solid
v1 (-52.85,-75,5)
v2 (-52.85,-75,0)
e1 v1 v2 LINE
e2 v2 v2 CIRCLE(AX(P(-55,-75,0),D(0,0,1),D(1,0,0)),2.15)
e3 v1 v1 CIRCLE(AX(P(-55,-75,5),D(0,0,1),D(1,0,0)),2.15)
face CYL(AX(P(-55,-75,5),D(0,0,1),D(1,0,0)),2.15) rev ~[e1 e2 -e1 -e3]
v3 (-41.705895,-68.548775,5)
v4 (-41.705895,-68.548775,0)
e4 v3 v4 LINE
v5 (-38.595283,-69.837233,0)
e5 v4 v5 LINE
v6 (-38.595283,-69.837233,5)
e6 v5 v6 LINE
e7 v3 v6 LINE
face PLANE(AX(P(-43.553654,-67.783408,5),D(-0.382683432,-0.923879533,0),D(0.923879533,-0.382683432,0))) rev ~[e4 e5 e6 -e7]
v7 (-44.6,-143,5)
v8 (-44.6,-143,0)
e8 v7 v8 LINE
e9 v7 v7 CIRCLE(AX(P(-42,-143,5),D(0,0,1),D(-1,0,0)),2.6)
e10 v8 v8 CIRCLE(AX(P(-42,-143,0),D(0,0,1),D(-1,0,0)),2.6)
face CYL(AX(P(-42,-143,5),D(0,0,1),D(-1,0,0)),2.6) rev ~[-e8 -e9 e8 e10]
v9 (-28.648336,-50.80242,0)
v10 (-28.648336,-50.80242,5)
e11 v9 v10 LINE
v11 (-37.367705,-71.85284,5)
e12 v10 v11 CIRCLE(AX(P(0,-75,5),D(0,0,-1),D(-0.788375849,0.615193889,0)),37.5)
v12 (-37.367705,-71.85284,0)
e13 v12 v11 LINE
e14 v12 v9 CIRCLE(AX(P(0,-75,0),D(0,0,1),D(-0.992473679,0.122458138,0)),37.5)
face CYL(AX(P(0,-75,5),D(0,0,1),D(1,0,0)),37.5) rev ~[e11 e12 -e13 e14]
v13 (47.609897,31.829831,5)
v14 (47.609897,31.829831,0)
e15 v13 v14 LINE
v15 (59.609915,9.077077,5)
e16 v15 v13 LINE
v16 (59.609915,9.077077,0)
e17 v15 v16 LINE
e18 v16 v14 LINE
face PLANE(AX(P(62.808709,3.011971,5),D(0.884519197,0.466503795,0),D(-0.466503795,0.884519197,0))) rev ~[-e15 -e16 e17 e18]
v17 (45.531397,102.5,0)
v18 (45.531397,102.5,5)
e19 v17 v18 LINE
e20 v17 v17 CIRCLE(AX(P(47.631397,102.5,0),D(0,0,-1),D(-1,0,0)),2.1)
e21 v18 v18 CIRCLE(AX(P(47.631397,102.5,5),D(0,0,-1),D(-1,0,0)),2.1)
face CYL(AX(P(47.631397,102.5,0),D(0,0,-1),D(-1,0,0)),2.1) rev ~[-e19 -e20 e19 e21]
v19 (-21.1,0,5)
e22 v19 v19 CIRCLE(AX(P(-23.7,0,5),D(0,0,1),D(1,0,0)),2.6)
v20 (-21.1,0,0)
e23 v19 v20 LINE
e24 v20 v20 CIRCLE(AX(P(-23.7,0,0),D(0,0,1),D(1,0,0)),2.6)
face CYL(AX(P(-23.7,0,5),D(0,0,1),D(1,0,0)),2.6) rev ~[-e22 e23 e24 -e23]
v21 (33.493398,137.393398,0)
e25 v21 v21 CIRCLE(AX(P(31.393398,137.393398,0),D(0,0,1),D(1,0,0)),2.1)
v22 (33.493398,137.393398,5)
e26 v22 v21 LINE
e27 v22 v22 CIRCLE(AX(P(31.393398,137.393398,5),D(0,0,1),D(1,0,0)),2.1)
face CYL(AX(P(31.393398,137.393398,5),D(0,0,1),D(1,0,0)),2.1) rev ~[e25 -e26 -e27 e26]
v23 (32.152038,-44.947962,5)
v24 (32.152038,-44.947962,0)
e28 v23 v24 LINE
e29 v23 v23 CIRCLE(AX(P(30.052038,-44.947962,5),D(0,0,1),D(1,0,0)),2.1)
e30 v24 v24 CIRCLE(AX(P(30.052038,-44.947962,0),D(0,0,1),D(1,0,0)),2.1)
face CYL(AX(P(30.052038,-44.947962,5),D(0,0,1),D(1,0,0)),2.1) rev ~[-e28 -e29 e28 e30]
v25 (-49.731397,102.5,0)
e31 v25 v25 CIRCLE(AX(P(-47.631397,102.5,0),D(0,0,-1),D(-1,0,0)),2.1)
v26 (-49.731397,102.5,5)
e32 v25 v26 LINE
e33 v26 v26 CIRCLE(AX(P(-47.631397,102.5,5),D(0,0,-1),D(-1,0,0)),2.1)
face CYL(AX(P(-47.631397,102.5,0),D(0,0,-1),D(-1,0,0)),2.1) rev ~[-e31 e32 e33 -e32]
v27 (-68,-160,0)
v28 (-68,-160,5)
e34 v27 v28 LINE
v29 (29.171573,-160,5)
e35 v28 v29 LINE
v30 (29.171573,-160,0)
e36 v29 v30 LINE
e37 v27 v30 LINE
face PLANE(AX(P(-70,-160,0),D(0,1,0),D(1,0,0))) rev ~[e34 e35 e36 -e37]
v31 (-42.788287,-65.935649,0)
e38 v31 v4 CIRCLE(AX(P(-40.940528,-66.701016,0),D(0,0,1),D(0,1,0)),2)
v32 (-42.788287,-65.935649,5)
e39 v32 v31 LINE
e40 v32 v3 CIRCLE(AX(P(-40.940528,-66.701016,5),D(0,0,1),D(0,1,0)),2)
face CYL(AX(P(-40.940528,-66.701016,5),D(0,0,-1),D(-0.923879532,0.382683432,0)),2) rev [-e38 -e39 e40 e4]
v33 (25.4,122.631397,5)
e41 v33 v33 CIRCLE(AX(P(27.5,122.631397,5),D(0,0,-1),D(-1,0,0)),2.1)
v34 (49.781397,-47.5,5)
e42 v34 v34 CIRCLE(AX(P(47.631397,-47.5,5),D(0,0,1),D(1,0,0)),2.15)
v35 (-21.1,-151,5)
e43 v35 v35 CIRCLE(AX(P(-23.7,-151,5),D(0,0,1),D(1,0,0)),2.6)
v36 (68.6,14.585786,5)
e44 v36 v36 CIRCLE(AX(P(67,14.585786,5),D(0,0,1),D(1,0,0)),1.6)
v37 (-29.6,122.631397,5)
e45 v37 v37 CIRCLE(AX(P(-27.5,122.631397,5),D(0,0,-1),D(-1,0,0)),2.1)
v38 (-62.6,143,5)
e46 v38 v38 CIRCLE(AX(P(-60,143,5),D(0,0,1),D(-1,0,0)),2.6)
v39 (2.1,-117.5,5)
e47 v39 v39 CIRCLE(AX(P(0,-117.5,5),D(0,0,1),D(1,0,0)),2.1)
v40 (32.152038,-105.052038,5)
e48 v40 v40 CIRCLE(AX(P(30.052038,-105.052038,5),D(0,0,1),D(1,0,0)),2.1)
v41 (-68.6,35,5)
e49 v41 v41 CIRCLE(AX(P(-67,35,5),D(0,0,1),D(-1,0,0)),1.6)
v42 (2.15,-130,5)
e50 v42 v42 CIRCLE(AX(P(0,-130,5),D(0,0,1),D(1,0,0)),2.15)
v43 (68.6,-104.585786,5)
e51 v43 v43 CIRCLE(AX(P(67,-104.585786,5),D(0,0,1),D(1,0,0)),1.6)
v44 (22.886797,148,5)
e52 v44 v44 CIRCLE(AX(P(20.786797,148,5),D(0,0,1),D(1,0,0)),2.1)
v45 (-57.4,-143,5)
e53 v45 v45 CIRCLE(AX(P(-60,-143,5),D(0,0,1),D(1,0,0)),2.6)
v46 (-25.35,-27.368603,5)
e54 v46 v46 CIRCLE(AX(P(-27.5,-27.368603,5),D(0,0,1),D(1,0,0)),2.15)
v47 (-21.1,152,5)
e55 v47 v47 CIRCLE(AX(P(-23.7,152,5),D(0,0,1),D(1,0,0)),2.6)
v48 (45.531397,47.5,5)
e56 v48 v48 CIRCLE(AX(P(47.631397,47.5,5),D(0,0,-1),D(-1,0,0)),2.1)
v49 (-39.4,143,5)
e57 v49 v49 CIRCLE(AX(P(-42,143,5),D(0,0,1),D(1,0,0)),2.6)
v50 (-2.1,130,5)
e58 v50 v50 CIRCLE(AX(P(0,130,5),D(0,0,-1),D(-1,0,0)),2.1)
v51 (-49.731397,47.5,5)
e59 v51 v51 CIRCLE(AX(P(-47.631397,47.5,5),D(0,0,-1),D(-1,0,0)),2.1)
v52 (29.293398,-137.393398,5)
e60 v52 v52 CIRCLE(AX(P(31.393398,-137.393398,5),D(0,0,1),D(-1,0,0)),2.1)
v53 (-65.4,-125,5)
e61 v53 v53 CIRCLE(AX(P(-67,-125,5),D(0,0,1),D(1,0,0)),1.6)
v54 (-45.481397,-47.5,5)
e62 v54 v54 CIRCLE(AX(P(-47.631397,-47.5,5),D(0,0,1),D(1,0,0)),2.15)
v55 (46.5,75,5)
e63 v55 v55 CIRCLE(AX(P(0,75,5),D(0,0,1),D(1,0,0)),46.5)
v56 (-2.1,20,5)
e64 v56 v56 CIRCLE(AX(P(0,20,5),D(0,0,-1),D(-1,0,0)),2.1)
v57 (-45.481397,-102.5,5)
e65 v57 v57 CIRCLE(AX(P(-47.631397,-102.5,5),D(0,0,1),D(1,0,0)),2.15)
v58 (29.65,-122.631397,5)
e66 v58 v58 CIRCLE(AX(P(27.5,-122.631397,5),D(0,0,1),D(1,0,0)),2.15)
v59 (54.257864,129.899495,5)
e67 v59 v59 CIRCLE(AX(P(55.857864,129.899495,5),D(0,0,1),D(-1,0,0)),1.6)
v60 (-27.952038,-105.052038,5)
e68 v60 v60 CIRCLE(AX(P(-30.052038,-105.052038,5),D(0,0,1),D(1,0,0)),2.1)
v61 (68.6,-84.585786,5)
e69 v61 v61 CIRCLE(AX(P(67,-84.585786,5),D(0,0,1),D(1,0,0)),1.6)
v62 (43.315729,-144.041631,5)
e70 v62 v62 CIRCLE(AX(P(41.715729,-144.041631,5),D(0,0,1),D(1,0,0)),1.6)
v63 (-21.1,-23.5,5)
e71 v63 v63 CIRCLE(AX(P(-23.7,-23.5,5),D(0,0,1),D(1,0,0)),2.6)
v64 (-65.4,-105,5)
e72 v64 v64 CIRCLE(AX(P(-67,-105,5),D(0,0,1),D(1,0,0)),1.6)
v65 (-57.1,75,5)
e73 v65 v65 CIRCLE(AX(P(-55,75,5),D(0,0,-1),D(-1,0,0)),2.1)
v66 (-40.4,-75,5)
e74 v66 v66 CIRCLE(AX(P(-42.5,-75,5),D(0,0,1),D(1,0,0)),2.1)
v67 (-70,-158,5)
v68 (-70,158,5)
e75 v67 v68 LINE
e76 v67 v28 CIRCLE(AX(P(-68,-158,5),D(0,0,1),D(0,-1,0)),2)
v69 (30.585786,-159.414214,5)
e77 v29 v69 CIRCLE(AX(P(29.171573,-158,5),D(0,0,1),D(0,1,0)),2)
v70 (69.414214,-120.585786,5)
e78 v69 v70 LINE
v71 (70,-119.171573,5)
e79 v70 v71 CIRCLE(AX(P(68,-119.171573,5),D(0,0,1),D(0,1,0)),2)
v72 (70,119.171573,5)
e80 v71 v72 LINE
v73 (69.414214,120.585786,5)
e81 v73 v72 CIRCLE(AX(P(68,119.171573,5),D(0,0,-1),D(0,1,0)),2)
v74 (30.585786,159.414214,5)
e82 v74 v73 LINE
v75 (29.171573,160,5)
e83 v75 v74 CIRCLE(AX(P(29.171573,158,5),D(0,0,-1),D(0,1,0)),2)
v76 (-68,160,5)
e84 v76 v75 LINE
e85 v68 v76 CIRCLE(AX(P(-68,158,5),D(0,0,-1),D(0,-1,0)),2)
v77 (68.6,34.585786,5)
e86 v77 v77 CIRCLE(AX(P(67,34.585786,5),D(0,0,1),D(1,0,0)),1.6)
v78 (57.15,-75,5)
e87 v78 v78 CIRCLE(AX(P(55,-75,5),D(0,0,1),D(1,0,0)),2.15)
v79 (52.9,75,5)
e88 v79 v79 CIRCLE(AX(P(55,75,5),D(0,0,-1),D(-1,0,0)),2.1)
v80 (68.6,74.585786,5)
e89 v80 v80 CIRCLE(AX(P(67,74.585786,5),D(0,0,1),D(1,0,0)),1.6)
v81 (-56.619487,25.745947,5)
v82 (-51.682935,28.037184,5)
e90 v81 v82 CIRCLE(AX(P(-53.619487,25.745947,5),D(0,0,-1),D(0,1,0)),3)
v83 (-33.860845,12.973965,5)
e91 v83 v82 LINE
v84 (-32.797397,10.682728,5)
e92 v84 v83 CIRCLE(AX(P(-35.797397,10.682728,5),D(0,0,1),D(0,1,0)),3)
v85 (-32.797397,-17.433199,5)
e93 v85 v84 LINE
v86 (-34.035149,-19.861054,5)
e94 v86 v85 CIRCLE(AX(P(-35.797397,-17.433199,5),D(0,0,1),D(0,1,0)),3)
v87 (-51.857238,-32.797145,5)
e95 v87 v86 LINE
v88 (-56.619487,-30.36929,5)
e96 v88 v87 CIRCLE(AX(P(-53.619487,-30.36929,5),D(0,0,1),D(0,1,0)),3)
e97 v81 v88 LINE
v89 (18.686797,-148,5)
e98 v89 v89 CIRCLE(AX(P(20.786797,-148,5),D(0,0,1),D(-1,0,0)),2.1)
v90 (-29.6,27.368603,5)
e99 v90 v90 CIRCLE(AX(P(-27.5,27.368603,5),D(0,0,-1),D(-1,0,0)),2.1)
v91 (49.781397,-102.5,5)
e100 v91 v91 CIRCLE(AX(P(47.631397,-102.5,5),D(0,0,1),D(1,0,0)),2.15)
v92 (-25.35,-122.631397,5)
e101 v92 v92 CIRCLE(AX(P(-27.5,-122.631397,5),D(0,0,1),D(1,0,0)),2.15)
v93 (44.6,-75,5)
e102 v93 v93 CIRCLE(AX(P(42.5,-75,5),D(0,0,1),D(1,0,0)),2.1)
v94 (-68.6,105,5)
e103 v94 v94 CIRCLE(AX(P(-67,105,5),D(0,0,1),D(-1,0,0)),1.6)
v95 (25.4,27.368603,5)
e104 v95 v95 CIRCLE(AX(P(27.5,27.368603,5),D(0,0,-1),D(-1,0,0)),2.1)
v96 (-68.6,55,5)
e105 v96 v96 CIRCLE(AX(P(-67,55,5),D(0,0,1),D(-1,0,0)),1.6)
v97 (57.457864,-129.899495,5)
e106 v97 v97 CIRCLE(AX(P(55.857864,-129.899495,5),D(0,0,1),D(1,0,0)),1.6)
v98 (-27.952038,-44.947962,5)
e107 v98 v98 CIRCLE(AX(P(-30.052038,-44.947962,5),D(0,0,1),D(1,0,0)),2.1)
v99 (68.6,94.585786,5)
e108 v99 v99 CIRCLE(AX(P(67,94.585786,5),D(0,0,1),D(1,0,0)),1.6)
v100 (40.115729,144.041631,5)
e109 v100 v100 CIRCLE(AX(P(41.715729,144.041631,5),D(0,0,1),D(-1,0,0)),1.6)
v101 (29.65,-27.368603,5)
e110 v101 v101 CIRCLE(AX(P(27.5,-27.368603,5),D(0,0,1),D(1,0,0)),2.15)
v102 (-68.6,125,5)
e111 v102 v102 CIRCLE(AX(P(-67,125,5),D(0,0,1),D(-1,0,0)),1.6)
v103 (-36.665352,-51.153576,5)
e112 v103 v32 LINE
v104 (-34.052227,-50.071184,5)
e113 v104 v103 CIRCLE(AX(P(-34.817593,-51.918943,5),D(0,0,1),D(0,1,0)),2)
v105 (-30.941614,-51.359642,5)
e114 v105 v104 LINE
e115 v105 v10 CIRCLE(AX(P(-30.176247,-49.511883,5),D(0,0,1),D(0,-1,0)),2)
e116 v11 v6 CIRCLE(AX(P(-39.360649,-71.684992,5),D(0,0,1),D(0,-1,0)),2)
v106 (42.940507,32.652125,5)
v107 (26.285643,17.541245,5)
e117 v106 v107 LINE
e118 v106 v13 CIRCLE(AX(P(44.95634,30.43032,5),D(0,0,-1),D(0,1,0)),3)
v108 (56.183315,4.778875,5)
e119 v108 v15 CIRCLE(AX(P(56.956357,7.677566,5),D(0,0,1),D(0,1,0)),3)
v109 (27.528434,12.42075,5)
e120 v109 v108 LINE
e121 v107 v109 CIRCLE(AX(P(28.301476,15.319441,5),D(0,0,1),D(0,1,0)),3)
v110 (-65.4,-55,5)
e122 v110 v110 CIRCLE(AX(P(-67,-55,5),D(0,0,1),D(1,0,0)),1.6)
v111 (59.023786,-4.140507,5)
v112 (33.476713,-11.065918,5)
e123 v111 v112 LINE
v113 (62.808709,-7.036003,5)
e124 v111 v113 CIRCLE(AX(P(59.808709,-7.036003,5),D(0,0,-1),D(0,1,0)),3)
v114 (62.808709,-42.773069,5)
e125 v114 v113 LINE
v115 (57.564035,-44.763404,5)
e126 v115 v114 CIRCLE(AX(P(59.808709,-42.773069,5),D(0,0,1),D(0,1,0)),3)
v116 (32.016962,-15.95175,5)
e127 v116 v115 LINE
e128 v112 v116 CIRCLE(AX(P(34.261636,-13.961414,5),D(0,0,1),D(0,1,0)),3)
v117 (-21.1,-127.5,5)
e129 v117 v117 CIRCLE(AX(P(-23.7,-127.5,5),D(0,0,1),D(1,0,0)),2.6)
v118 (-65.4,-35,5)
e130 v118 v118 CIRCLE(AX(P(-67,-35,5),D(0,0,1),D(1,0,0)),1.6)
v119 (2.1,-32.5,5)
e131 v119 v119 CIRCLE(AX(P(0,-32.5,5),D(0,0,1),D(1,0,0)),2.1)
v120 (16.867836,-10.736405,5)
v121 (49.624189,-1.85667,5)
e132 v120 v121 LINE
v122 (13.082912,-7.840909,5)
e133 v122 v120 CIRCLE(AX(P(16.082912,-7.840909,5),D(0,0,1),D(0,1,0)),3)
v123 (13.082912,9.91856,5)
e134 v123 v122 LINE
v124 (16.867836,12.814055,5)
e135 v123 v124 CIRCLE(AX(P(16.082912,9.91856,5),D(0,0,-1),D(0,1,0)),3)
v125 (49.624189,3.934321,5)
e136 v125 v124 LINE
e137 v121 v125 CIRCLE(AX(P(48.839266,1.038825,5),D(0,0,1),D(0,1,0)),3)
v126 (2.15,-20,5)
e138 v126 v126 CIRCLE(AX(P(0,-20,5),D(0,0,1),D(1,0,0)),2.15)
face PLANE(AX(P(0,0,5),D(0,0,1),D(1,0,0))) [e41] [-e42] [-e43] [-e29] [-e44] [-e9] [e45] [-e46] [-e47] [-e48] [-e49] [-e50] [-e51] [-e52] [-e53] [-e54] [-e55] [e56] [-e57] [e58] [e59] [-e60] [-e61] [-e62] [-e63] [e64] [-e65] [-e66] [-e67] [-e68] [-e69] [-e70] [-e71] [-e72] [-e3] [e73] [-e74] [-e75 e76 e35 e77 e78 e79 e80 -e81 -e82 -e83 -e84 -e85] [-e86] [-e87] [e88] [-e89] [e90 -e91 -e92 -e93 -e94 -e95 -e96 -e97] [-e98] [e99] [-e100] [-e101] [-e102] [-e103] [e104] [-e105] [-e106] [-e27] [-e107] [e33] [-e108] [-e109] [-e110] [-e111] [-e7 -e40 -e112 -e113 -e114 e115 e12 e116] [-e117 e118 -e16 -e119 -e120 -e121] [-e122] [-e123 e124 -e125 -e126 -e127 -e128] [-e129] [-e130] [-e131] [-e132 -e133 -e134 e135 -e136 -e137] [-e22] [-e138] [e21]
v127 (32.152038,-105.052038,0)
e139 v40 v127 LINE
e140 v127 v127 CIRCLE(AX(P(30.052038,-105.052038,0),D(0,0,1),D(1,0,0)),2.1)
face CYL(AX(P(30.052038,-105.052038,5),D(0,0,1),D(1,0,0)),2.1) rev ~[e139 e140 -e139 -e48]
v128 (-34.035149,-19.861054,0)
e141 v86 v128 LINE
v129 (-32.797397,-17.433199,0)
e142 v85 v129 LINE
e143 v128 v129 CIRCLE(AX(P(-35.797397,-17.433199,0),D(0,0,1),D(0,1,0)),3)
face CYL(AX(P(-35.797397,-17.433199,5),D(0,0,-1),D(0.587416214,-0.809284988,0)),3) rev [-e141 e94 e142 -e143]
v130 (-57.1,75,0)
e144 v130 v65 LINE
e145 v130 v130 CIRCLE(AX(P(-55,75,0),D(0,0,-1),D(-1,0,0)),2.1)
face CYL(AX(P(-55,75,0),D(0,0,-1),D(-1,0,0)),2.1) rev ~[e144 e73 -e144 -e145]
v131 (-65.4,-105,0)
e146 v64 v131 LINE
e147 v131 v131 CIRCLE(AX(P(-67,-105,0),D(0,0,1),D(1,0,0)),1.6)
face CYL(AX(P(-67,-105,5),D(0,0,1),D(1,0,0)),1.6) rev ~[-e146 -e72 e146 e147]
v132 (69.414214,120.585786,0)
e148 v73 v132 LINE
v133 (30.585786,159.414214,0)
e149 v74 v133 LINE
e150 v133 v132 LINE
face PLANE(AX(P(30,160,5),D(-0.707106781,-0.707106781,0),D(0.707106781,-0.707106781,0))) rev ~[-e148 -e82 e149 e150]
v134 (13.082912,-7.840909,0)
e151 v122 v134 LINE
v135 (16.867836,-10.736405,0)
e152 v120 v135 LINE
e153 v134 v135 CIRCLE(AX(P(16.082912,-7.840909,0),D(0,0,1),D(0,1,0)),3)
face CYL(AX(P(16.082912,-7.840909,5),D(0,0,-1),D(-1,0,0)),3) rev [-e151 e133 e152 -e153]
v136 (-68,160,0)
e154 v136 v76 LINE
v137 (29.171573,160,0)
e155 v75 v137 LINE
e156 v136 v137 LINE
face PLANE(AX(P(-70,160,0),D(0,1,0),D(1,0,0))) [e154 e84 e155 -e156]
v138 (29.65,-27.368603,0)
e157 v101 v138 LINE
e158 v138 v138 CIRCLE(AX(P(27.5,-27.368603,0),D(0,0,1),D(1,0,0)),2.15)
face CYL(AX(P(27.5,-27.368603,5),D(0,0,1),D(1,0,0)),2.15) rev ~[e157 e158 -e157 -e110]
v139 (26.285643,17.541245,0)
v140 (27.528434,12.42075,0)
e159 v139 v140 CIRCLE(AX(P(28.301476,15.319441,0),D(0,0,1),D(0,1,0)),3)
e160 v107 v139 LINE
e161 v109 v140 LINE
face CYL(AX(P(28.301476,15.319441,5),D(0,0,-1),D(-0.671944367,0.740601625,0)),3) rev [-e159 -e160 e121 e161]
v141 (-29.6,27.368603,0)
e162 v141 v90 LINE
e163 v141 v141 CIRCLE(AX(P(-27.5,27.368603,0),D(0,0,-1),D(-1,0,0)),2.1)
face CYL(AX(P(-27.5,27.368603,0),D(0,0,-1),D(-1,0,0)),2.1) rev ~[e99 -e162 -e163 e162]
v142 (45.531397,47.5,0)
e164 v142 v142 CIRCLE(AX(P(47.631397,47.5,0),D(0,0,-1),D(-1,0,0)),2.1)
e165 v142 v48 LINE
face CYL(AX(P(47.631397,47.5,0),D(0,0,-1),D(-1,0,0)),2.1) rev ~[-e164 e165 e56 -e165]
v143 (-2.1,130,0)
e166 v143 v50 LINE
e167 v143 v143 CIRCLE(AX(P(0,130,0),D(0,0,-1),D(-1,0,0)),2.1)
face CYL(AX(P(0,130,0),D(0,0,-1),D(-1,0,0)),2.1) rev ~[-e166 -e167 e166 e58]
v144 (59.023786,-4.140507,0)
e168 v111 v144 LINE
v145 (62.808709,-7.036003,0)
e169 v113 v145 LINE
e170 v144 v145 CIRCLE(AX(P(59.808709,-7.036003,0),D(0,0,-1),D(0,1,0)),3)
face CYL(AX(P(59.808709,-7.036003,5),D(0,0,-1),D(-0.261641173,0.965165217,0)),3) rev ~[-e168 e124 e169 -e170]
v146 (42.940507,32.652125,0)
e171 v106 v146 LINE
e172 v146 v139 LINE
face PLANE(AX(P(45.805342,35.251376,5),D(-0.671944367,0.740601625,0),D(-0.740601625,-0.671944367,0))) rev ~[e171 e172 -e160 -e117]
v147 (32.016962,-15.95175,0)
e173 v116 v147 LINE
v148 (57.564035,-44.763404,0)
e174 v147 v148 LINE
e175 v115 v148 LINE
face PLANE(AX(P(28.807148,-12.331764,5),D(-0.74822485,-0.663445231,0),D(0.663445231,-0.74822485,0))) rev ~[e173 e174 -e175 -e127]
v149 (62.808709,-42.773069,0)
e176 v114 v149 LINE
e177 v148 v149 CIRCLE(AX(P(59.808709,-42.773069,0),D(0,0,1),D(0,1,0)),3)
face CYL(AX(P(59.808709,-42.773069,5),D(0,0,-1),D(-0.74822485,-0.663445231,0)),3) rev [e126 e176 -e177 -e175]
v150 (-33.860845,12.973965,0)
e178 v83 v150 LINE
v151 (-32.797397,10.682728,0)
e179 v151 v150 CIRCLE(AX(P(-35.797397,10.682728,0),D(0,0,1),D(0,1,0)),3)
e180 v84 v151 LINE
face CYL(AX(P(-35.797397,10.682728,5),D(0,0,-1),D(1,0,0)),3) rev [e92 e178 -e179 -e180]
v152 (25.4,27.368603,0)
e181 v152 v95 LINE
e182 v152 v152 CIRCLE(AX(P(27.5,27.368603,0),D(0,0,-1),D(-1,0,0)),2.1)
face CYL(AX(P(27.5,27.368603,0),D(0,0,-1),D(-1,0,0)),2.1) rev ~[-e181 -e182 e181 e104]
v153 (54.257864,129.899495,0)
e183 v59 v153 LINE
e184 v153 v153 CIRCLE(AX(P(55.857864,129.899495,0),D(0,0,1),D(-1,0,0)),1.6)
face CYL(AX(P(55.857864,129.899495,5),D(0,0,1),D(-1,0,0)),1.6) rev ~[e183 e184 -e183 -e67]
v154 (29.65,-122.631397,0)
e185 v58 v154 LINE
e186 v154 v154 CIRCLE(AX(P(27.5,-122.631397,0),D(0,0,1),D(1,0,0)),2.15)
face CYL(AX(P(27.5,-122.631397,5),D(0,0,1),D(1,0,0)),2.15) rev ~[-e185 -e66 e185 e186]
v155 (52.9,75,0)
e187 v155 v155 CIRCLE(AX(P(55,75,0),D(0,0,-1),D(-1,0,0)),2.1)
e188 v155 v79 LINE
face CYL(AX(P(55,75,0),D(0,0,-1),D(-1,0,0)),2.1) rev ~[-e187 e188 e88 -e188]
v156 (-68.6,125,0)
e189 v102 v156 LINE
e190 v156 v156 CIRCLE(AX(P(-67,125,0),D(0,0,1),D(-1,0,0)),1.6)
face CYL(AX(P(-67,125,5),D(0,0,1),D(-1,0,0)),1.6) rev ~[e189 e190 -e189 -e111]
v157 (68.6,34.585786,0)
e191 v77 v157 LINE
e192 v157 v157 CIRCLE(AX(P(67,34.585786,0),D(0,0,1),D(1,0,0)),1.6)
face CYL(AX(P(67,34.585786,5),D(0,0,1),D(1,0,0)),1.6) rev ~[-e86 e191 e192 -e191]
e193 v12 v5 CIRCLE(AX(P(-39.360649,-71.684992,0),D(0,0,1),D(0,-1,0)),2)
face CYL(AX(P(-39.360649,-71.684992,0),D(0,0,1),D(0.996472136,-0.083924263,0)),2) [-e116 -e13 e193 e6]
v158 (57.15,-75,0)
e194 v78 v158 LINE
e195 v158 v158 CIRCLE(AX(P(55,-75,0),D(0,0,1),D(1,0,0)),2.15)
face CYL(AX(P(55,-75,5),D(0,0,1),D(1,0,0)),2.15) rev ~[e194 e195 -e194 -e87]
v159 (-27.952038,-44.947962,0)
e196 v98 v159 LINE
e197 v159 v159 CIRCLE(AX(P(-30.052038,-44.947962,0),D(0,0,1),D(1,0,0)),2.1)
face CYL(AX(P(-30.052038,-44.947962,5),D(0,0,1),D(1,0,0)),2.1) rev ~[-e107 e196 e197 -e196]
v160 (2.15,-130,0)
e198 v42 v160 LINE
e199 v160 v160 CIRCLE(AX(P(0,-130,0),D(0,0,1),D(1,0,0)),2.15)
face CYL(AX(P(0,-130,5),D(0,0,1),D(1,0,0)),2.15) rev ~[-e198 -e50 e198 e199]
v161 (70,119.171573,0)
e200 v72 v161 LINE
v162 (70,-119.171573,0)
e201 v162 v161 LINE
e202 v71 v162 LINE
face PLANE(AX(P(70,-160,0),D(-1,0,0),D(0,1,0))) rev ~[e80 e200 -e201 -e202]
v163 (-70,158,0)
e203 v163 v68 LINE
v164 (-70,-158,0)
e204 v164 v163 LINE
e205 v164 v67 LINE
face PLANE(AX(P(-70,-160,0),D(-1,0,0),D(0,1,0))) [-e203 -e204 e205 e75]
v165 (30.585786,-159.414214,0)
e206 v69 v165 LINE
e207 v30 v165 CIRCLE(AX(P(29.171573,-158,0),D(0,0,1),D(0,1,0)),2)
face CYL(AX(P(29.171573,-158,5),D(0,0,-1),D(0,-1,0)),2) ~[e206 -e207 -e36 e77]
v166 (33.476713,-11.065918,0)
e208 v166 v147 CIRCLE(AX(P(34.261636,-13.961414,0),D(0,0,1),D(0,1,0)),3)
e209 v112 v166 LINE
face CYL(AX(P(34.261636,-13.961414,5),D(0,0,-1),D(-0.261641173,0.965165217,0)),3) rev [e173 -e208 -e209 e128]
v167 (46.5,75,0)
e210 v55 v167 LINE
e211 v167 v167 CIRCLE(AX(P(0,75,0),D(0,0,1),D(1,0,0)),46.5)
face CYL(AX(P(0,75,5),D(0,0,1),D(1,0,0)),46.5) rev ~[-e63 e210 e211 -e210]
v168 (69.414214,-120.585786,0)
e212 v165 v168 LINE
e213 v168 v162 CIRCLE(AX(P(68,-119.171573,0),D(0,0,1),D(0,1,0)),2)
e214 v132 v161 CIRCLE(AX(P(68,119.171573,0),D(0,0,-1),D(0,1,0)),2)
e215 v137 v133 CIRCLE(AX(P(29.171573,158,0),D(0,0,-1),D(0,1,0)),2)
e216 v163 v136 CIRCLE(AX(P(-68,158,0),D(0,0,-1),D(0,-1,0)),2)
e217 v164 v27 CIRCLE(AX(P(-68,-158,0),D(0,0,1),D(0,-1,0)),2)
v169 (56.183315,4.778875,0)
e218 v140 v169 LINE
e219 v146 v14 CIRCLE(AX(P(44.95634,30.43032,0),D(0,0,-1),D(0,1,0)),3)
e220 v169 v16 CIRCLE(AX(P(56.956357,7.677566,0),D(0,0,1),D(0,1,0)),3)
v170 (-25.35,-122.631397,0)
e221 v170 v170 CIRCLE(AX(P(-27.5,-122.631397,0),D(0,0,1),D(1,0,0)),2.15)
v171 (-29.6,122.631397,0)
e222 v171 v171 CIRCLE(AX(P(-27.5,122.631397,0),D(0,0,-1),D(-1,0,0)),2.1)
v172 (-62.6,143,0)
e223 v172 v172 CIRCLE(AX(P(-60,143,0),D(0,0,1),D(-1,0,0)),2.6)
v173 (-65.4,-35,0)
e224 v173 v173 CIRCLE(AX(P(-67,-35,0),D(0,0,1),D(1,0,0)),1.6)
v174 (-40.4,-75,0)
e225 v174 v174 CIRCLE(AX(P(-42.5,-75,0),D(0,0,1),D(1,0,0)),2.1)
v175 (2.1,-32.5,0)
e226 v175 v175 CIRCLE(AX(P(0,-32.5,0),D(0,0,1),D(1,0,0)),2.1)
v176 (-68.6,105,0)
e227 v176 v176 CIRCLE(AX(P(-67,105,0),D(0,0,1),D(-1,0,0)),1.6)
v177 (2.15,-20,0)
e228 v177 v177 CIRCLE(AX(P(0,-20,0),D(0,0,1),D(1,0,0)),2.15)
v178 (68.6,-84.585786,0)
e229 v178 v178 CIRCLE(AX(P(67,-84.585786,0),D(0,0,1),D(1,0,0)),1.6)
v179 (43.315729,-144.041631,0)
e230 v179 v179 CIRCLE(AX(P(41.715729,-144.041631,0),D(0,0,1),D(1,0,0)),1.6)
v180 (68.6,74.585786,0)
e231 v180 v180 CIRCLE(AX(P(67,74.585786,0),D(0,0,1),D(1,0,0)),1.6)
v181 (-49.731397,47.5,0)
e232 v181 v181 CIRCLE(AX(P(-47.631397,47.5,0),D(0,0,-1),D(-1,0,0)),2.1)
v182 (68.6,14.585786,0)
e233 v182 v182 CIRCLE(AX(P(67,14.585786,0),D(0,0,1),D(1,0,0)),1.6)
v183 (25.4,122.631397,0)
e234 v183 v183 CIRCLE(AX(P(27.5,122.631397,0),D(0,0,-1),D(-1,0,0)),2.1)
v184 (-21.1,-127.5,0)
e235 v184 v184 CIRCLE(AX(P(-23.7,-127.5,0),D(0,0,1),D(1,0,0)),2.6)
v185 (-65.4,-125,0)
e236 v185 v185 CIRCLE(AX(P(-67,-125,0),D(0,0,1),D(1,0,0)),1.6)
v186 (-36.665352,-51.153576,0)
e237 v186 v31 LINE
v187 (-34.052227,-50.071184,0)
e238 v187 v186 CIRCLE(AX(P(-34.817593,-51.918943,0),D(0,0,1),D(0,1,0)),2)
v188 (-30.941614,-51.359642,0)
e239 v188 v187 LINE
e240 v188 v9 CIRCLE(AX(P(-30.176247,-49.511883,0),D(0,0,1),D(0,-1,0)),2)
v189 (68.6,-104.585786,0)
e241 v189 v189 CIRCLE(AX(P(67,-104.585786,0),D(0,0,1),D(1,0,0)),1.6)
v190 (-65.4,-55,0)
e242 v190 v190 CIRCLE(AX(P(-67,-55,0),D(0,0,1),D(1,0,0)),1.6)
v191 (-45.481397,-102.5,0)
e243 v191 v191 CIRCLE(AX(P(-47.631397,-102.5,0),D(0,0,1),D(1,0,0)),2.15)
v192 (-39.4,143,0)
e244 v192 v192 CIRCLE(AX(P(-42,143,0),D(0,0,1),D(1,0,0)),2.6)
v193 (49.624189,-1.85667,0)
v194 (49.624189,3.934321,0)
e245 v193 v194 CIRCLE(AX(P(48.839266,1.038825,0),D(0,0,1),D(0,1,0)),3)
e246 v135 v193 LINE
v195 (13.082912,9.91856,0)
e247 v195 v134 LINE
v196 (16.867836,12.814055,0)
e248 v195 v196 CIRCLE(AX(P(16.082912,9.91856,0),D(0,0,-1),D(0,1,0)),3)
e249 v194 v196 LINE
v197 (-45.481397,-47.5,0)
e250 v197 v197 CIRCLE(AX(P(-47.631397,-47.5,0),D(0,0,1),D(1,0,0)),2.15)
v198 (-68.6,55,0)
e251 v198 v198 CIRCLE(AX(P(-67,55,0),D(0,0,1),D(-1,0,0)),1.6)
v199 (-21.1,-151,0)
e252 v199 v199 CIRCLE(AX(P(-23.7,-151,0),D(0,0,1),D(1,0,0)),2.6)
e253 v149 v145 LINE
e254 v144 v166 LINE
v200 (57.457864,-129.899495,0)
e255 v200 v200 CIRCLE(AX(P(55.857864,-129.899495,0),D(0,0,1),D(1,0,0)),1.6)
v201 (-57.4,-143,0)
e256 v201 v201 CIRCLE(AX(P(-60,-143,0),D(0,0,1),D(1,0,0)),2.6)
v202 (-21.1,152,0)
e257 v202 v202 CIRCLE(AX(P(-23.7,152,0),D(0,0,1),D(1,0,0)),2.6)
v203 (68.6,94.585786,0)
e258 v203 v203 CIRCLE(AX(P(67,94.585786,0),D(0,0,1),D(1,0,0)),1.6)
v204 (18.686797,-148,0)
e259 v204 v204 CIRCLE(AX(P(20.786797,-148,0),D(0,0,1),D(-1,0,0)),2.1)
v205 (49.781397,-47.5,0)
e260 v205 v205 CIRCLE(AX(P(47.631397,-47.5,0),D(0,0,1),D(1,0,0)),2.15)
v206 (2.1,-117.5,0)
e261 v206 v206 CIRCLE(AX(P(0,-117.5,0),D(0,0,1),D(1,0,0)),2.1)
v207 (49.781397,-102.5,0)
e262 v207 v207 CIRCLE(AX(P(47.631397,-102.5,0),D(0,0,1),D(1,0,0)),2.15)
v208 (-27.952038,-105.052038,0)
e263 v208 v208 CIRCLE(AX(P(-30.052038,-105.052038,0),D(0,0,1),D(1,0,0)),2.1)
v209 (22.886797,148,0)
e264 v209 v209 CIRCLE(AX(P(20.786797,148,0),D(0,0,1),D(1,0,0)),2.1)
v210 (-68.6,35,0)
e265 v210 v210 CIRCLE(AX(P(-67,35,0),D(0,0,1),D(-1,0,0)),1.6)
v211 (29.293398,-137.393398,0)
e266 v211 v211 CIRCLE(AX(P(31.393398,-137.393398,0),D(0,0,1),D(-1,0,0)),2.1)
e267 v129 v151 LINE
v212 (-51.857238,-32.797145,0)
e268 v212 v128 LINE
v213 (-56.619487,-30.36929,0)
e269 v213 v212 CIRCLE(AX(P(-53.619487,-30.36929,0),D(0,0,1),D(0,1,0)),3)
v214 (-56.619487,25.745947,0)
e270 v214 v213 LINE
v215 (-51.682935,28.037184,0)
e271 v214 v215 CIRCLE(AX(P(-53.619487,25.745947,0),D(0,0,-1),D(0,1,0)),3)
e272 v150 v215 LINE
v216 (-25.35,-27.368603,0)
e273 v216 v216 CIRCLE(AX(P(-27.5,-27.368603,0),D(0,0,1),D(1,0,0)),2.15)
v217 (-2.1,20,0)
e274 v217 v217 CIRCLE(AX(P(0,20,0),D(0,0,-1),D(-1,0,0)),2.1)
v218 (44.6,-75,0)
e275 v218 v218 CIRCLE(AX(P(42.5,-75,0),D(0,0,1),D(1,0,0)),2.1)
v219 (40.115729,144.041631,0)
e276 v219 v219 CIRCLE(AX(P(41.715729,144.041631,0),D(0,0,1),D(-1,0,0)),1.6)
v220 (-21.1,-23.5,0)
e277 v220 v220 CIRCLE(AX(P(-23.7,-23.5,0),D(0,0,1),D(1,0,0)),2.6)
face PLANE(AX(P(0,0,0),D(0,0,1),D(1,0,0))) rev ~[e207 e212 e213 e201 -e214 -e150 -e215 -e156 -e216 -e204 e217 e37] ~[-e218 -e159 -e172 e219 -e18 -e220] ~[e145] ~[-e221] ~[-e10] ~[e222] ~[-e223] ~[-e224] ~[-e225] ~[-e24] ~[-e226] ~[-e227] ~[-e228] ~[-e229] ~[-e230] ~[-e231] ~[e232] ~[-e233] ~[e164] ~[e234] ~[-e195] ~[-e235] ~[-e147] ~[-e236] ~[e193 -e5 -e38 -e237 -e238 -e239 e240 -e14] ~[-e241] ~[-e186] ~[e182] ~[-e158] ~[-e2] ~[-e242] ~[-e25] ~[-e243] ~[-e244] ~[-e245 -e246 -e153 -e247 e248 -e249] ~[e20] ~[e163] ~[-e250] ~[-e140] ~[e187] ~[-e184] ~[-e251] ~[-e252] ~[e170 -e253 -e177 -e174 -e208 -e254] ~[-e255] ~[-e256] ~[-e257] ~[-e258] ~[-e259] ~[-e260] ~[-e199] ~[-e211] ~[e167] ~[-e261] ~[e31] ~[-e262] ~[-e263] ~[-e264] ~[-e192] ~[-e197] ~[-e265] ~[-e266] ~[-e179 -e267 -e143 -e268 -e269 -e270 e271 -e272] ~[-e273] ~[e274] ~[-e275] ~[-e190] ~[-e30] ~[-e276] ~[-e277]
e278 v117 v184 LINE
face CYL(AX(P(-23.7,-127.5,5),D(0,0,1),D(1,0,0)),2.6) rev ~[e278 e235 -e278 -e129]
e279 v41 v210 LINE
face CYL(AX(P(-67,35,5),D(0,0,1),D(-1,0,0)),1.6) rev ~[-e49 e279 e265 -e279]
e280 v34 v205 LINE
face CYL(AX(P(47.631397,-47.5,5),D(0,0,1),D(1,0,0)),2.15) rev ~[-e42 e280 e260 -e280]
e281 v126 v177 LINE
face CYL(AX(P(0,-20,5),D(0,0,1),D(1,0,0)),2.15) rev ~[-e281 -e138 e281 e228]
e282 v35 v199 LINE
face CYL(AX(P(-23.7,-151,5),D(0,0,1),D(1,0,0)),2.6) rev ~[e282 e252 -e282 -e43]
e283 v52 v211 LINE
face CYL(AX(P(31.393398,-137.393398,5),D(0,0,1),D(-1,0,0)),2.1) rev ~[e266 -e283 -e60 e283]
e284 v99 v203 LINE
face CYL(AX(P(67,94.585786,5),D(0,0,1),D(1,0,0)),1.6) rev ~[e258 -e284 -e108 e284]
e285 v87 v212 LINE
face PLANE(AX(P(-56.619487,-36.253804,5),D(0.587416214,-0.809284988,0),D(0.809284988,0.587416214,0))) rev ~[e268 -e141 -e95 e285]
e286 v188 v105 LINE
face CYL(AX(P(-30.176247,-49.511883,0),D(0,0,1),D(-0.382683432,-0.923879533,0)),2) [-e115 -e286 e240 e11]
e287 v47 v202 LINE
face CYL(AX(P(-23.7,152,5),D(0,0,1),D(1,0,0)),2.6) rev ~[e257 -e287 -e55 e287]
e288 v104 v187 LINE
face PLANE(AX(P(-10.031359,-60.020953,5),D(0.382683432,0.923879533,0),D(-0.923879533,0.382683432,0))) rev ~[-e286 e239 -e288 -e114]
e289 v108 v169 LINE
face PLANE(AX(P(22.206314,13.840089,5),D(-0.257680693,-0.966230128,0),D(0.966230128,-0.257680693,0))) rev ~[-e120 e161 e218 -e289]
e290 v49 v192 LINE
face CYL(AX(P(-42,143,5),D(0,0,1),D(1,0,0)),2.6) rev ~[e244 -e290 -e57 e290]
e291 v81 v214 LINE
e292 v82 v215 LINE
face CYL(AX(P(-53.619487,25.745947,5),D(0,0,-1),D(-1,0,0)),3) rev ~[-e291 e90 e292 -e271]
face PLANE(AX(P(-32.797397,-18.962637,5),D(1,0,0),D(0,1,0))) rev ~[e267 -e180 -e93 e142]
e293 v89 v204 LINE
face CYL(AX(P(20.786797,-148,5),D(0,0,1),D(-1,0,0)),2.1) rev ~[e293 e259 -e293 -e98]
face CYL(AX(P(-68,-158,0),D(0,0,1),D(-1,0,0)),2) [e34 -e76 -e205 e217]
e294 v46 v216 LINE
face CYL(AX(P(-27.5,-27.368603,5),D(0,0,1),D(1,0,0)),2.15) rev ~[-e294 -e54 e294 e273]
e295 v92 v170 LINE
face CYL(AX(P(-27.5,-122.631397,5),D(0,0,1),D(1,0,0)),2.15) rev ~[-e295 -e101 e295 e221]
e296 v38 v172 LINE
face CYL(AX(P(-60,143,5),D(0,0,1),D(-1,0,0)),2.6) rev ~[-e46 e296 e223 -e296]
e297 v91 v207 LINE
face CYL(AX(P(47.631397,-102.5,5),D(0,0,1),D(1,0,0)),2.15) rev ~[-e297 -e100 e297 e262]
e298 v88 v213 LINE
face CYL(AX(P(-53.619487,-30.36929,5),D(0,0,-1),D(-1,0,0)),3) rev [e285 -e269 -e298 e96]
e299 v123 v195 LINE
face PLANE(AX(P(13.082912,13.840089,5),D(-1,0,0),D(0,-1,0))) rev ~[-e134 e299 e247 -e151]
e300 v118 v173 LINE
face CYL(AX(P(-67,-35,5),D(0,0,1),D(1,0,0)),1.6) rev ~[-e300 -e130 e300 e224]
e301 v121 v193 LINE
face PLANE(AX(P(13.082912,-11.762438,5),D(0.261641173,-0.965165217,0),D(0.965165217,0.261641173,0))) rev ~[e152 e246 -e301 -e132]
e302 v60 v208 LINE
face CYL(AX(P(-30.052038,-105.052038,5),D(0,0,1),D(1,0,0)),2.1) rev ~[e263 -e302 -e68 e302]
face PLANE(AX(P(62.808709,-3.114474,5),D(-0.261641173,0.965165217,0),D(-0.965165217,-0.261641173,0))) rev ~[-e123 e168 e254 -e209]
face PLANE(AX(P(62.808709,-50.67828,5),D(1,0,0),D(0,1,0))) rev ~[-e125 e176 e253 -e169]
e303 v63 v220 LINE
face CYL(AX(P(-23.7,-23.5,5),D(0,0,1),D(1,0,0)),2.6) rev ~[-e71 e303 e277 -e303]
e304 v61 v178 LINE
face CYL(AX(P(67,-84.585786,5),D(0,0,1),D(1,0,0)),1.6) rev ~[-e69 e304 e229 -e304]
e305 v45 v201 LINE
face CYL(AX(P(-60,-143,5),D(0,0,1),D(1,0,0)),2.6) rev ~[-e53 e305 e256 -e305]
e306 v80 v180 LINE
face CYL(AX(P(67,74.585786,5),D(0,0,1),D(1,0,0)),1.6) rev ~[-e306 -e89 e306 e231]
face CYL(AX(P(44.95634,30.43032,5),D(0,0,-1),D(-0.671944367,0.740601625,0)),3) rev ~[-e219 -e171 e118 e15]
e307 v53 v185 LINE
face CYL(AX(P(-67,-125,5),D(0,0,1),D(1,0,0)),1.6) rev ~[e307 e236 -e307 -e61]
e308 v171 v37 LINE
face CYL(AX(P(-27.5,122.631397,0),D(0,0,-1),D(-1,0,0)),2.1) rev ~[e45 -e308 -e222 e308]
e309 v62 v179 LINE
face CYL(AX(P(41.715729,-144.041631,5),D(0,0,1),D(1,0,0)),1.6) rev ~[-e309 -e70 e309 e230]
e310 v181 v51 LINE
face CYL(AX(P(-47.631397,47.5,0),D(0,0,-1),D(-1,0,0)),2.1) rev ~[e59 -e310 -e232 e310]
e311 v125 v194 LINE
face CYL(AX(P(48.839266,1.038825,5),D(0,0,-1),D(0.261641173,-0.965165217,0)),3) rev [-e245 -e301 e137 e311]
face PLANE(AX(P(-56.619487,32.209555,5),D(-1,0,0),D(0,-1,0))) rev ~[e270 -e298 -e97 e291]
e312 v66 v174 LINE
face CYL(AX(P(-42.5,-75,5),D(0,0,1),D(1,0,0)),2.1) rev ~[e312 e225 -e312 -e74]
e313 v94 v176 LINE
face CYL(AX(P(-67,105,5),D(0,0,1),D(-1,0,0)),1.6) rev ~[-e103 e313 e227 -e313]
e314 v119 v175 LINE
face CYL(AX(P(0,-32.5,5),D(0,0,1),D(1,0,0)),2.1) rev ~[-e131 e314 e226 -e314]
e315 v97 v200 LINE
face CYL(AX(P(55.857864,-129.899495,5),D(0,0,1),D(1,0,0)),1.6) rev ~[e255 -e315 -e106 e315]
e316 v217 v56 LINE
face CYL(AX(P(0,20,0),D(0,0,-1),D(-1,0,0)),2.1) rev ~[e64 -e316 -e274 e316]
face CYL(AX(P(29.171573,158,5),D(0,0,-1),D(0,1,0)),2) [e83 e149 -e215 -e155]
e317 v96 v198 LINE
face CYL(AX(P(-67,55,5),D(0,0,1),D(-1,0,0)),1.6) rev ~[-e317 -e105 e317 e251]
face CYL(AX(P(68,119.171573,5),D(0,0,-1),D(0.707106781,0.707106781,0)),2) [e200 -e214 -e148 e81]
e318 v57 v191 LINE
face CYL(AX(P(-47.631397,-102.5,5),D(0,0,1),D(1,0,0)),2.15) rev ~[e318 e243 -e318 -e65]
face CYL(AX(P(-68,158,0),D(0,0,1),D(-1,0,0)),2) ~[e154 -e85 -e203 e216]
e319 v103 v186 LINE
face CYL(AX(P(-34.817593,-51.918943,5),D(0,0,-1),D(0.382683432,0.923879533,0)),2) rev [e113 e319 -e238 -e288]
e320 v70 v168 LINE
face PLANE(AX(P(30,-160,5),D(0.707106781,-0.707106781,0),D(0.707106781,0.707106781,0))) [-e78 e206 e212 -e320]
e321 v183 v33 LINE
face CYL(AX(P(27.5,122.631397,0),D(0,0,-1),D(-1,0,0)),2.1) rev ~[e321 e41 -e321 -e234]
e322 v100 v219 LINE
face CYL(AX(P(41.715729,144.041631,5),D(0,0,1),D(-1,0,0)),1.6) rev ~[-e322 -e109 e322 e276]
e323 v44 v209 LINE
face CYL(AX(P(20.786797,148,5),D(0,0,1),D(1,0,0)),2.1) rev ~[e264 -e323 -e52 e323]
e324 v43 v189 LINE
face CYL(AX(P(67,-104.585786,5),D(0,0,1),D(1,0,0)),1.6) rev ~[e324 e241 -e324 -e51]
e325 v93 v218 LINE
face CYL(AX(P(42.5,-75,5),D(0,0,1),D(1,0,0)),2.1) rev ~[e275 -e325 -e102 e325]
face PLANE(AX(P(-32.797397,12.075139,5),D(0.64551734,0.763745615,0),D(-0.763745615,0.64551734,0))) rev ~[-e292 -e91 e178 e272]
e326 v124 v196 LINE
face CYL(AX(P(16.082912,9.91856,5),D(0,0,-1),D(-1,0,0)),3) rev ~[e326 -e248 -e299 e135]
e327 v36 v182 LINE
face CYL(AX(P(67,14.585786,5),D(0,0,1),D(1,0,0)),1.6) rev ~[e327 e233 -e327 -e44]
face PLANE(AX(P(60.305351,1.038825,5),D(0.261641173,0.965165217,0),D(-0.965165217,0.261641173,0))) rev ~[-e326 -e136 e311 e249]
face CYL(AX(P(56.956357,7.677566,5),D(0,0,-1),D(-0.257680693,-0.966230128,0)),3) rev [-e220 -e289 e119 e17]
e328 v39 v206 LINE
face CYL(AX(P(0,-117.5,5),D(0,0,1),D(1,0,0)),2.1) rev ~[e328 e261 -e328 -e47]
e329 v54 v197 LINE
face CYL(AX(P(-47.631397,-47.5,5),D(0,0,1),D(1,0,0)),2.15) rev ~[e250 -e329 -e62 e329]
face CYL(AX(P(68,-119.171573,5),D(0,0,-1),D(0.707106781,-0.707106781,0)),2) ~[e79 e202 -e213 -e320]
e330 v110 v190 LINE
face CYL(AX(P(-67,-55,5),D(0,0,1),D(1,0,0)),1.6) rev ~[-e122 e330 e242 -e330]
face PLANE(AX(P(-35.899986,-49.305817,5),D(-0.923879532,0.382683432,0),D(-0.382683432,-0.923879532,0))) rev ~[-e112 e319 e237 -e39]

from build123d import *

# Parameters (mm, degrees)
SKETCH_1_W           = 140
SKETCH_1_H           = 320
EXTRUDE_1_DEPTH      = 5
SKETCH_2_R           = 46.5
SKETCH_2_R_2         = 37.5
SKETCH_2_R_3         = 2.1
CUT_EXTRUDE_1_DEPTH  = 5
CUT_EXTRUDE_2_DEPTH  = 5
SKETCH_4_R           = 2.15
CUT_EXTRUDE_3_DEPTH  = 5
SKETCH_5_R           = 2.1
CUT_EXTRUDE_4_DEPTH  = 15
CUT_EXTRUDE_5_DEPTH  = 10
SKETCH_7_R           = 1.6
CUT_EXTRUDE_6_DEPTH  = 327
FILLET_1_R           = 2
FILLET_2_R           = 2
SKETCH_9_R           = 2.6
CUT_EXTRUDE_8_DEPTH  = 10
SKETCH_10_R          = 2.6
CUT_EXTRUDE_9_DEPTH  = 10
SKETCH_11_R          = 2.6
CUT_EXTRUDE_10_DEPTH = 10
SKETCH_12_R          = 1.6
CUT_EXTRUDE_11_DEPTH = 10
SKETCH_13_R          = 2.1
CUT_EXTRUDE_12_DEPTH = 10
CUT_EXTRUDE_13_DEPTH = 10
FILLET_3_R           = 3
FILLET_5_R           = 3
FILLET_6_R           = 3
SKETCH_15_R          = 1.6
CUT_EXTRUDE_14_DEPTH = 10


with BuildPart() as part:
    # 草图1 → 凸台-拉伸1 (new body)
    with BuildSketch(Plane.XY):
        Rectangle(SKETCH_1_W, SKETCH_1_H)
    extrude(amount=EXTRUDE_1_DEPTH)

    # 草图2 → 切除-拉伸1 (cut)
    with BuildSketch(Plane.XY.offset(5)):
        with Locations((0, 75)):
            Circle(SKETCH_2_R)
        with Locations((0, -75)):
            Circle(SKETCH_2_R_2)
        with Locations((42.5, -75)):
            Circle(SKETCH_2_R_3)
        with Locations((30.0520382, -105.0520382)):
            Circle(SKETCH_2_R_3)
        with Locations((0, -117.5)):
            Circle(SKETCH_2_R_3)
        with Locations((-30.0520382, -105.0520382)):
            Circle(SKETCH_2_R_3)
        with Locations((-42.5, -75)):
            Circle(SKETCH_2_R_3)
        with Locations((-30.0520382, -44.9479618)):
            Circle(SKETCH_2_R_3)
        with Locations((0, -32.5)):
            Circle(SKETCH_2_R_3)
        with Locations((30.0520382, -44.9479618)):
            Circle(SKETCH_2_R_3)
    extrude(amount=-CUT_EXTRUDE_1_DEPTH, mode=Mode.SUBTRACT)

    # 草图3 → 切除-拉伸2 (cut)
    with BuildSketch(Plane.XY.offset(5)):
        Polygon((-43.553654222, -67.783407733), (-17.685027311, -78.49854384), (-10.031358664, -60.020953189), (-35.899985574, -49.305817083), align=None)
    extrude(amount=-CUT_EXTRUDE_2_DEPTH, mode=Mode.SUBTRACT)

    # 草图4 → 切除-拉伸3 (cut)
    with BuildSketch(Plane.XY.offset(5)):
        with Locations((0, -20)):
            Circle(SKETCH_4_R)
        with Locations((27.5, -27.368602792)):
            Circle(SKETCH_4_R)
        with Locations((47.631397208, -47.5)):
            Circle(SKETCH_4_R)
        with Locations((55, -75)):
            Circle(SKETCH_4_R)
        with Locations((47.631397208, -102.5)):
            Circle(SKETCH_4_R)
        with Locations((27.5, -122.631397208)):
            Circle(SKETCH_4_R)
        with Locations((0, -130)):
            Circle(SKETCH_4_R)
        with Locations((-27.5, -122.631397208)):
            Circle(SKETCH_4_R)
        with Locations((-47.631397208, -102.5)):
            Circle(SKETCH_4_R)
        with Locations((-55, -75)):
            Circle(SKETCH_4_R)
        with Locations((-47.631397208, -47.5)):
            Circle(SKETCH_4_R)
        with Locations((-27.5, -27.368602792)):
            Circle(SKETCH_4_R)
    extrude(amount=-CUT_EXTRUDE_3_DEPTH, mode=Mode.SUBTRACT)

    # 草图5 → 切除-拉伸4 (cut)
    with BuildSketch(Plane(origin=(0, 0, 0), x_dir=(-1, 0, 0), z_dir=(0, 0, -1))):
        with Locations((0, 130)):
            Circle(SKETCH_5_R)
        with Locations((27.5, 122.631397208)):
            Circle(SKETCH_5_R)
        with Locations((47.631397208, 102.5)):
            Circle(SKETCH_5_R)
        with Locations((55, 75)):
            Circle(SKETCH_5_R)
        with Locations((47.631397208, 47.5)):
            Circle(SKETCH_5_R)
        with Locations((27.5, 27.368602792)):
            Circle(SKETCH_5_R)
        with Locations((0, 20)):
            Circle(SKETCH_5_R)
        with Locations((-27.5, 27.368602792)):
            Circle(SKETCH_5_R)
        with Locations((-47.631397208, 47.5)):
            Circle(SKETCH_5_R)
        with Locations((-55, 75)):
            Circle(SKETCH_5_R)
        with Locations((-47.631397208, 102.5)):
            Circle(SKETCH_5_R)
        with Locations((-27.5, 122.631397208)):
            Circle(SKETCH_5_R)
    extrude(amount=-CUT_EXTRUDE_4_DEPTH, mode=Mode.SUBTRACT)

    # 草图6 → 切除-拉伸5 (cut)
    with BuildSketch(Plane.XY.offset(5)):
        Polygon((30, 160), (70, 120), (70, 160), align=None)
        Polygon((70, -120), (70, -160), (30, -160), align=None)
    extrude(amount=-CUT_EXTRUDE_5_DEPTH, mode=Mode.SUBTRACT)

    # 草图7 → 切除-拉伸6 (cut)
    with BuildSketch(Plane.XY.offset(5)):
        with Locations((41.715728753, -144.04163056)):
            Circle(SKETCH_7_R)
        with Locations((55.857864376, -129.899494937)):
            Circle(SKETCH_7_R)
        with Locations(Location((55.857864376, 129.899494937, 0), (0, 0, 180))):
            Circle(SKETCH_7_R)
        with Locations(Location((41.715728753, 144.04163056, 0), (0, 0, 180))):
            Circle(SKETCH_7_R)
    extrude(amount=-CUT_EXTRUDE_6_DEPTH, mode=Mode.SUBTRACT)

    # 圆角1
    fillet_1_edges = [part.edges().sort_by_distance(p)[0] for p in [
        (30, 160, 2.5),
        (70, 120, 2.5),
        (30, -160, 2.5),
        (70, -120, 2.5),
        (-37.217762979, -70.407819816, 2.5),
        (-29.564094332, -51.930229166, 2.5),
        (-35.899985574, -49.305817083, 2.5),
        (-70, -160, 2.5),
        (-70, 160, 2.5),
    ]]
    fillet(fillet_1_edges, radius=FILLET_1_R)

    # 圆角2
    fillet_2_edges = [part.edges().sort_by_distance(p)[0] for p in [
        (-43.553654222, -67.783407733, 2.5),
    ]]
    fillet(fillet_2_edges, radius=FILLET_2_R)

    # 草图9 → 切除-拉伸8 (cut)
    with BuildSketch(Plane.XY.offset(5)):
        with Locations((-23.7, 0)):
            Circle(SKETCH_9_R)
        with Locations((-23.7, -23.5)):
            Circle(SKETCH_9_R)
        with Locations((-23.7, -151)):
            Circle(SKETCH_9_R)
        with Locations((-23.7, -127.5)):
            Circle(SKETCH_9_R)
    extrude(amount=-CUT_EXTRUDE_8_DEPTH, mode=Mode.SUBTRACT)

    # 草图10 → 切除-拉伸9 (cut)
    with BuildSketch(Plane.XY.offset(5)):
        with Locations((-60, -143)):
            Circle(SKETCH_10_R)
        with Locations(Location((-60, 143, 0), (0, 0, 180))):
            Circle(SKETCH_10_R)
        with Locations((-42, 143)):
            Circle(SKETCH_10_R)
        with Locations(Location((-42, -143, 0), (0, 0, 180))):
            Circle(SKETCH_10_R)
    extrude(amount=-CUT_EXTRUDE_9_DEPTH, mode=Mode.SUBTRACT)

    # 草图11 → 切除-拉伸10 (cut)
    with BuildSketch(Plane.XY.offset(5)):
        with Locations((-23.7, 152)):
            Circle(SKETCH_11_R)
    extrude(amount=-CUT_EXTRUDE_10_DEPTH, mode=Mode.SUBTRACT)

    # 草图12 → 切除-拉伸11 (cut)
    with BuildSketch(Plane.XY.offset(5)):
        with Locations((67, -104.585786438)):
            Circle(SKETCH_12_R)
        with Locations((67, -84.585786438)):
            Circle(SKETCH_12_R)
        with Locations((67, 94.585786438)):
            Circle(SKETCH_12_R)
        with Locations((67, 74.585786438)):
            Circle(SKETCH_12_R)
        with Locations((67, 34.585786438)):
            Circle(SKETCH_12_R)
        with Locations((67, 14.585786438)):
            Circle(SKETCH_12_R)
    extrude(amount=-CUT_EXTRUDE_11_DEPTH, mode=Mode.SUBTRACT)

    # 草图13 → 切除-拉伸12 (cut)
    with BuildSketch(Plane.XY.offset(5)):
        with Locations((20.786796564, 148)):
            Circle(SKETCH_13_R)
        with Locations((31.393398282, 137.393398282)):
            Circle(SKETCH_13_R)
        with Locations(Location((31.393398282, -137.393398282, 0), (0, 0, 180))):
            Circle(SKETCH_13_R)
        with Locations(Location((20.786796564, -148, 0), (0, 0, 180))):
            Circle(SKETCH_13_R)
    extrude(amount=-CUT_EXTRUDE_12_DEPTH, mode=Mode.SUBTRACT)

    # 草图14 → 切除-拉伸13 (cut)
    with BuildSketch(Plane.XY.offset(5)):
        Polygon((13.082912069, 13.840088814), (13.082912069, -11.76243836), (60.305351078, 1.038825227), align=None)
        Polygon((62.808709291, -3.114473625), (28.807148392, -12.33176423), (62.808709291, -50.678279663), align=None)
        Polygon((45.805341988, 35.251376217), (22.206313522, 13.840088814), (62.808709291, 3.011971197), align=None)
        Polygon((-56.619486608, 32.209554881), (-56.619486608, -36.253803925), (-32.797397419, -18.962637445), (-32.797397419, 12.07513926), align=None)
    extrude(amount=-CUT_EXTRUDE_13_DEPTH, mode=Mode.SUBTRACT)

    # 圆角3
    fillet_3_edges = [part.edges().sort_by_distance(p)[0] for p in [
        (62.808709291, -3.114473625, 2.5),
        (62.808709291, -50.678279663, 2.5),
        (28.807148392, -12.33176423, 2.5),
        (13.082912069, 13.840088814, 2.5),
        (60.305351078, 1.038825227, 2.5),
        (13.082912069, -11.76243836, 2.5),
    ]]
    fillet(fillet_3_edges, radius=FILLET_3_R)

    # 圆角5
    fillet_5_edges = [part.edges().sort_by_distance(p)[0] for p in [
        (45.805341988, 35.251376217, 2.5),
        (62.808709291, 3.011971197, 2.5),
        (22.206313522, 13.840088814, 2.5),
    ]]
    fillet(fillet_5_edges, radius=FILLET_5_R)

    # 圆角6
    fillet_6_edges = [part.edges().sort_by_distance(p)[0] for p in [
        (-32.797397419, -18.962637445, 2.5),
        (-56.619486608, -36.253803925, 2.5),
        (-56.619486608, 32.209554881, 2.5),
        (-32.797397419, 12.07513926, 2.5),
    ]]
    fillet(fillet_6_edges, radius=FILLET_6_R)

    # 草图15 → 切除-拉伸14 (cut)
    with BuildSketch(Plane.XY.offset(5)):
        with Locations((-67, -125)):
            Circle(SKETCH_15_R)
        with Locations((-67, -105)):
            Circle(SKETCH_15_R)
        with Locations((-67, -35)):
            Circle(SKETCH_15_R)
        with Locations((-67, -55)):
            Circle(SKETCH_15_R)
        with Locations(Location((-67, 55, 0), (0, 0, 180))):
            Circle(SKETCH_15_R)
        with Locations(Location((-67, 35, 0), (0, 0, 180))):
            Circle(SKETCH_15_R)
        with Locations(Location((-67, 105, 0), (0, 0, 180))):
            Circle(SKETCH_15_R)
        with Locations(Location((-67, 125, 0), (0, 0, 180))):
            Circle(SKETCH_15_R)
    extrude(amount=-CUT_EXTRUDE_14_DEPTH, mode=Mode.SUBTRACT)


solid = part.part
